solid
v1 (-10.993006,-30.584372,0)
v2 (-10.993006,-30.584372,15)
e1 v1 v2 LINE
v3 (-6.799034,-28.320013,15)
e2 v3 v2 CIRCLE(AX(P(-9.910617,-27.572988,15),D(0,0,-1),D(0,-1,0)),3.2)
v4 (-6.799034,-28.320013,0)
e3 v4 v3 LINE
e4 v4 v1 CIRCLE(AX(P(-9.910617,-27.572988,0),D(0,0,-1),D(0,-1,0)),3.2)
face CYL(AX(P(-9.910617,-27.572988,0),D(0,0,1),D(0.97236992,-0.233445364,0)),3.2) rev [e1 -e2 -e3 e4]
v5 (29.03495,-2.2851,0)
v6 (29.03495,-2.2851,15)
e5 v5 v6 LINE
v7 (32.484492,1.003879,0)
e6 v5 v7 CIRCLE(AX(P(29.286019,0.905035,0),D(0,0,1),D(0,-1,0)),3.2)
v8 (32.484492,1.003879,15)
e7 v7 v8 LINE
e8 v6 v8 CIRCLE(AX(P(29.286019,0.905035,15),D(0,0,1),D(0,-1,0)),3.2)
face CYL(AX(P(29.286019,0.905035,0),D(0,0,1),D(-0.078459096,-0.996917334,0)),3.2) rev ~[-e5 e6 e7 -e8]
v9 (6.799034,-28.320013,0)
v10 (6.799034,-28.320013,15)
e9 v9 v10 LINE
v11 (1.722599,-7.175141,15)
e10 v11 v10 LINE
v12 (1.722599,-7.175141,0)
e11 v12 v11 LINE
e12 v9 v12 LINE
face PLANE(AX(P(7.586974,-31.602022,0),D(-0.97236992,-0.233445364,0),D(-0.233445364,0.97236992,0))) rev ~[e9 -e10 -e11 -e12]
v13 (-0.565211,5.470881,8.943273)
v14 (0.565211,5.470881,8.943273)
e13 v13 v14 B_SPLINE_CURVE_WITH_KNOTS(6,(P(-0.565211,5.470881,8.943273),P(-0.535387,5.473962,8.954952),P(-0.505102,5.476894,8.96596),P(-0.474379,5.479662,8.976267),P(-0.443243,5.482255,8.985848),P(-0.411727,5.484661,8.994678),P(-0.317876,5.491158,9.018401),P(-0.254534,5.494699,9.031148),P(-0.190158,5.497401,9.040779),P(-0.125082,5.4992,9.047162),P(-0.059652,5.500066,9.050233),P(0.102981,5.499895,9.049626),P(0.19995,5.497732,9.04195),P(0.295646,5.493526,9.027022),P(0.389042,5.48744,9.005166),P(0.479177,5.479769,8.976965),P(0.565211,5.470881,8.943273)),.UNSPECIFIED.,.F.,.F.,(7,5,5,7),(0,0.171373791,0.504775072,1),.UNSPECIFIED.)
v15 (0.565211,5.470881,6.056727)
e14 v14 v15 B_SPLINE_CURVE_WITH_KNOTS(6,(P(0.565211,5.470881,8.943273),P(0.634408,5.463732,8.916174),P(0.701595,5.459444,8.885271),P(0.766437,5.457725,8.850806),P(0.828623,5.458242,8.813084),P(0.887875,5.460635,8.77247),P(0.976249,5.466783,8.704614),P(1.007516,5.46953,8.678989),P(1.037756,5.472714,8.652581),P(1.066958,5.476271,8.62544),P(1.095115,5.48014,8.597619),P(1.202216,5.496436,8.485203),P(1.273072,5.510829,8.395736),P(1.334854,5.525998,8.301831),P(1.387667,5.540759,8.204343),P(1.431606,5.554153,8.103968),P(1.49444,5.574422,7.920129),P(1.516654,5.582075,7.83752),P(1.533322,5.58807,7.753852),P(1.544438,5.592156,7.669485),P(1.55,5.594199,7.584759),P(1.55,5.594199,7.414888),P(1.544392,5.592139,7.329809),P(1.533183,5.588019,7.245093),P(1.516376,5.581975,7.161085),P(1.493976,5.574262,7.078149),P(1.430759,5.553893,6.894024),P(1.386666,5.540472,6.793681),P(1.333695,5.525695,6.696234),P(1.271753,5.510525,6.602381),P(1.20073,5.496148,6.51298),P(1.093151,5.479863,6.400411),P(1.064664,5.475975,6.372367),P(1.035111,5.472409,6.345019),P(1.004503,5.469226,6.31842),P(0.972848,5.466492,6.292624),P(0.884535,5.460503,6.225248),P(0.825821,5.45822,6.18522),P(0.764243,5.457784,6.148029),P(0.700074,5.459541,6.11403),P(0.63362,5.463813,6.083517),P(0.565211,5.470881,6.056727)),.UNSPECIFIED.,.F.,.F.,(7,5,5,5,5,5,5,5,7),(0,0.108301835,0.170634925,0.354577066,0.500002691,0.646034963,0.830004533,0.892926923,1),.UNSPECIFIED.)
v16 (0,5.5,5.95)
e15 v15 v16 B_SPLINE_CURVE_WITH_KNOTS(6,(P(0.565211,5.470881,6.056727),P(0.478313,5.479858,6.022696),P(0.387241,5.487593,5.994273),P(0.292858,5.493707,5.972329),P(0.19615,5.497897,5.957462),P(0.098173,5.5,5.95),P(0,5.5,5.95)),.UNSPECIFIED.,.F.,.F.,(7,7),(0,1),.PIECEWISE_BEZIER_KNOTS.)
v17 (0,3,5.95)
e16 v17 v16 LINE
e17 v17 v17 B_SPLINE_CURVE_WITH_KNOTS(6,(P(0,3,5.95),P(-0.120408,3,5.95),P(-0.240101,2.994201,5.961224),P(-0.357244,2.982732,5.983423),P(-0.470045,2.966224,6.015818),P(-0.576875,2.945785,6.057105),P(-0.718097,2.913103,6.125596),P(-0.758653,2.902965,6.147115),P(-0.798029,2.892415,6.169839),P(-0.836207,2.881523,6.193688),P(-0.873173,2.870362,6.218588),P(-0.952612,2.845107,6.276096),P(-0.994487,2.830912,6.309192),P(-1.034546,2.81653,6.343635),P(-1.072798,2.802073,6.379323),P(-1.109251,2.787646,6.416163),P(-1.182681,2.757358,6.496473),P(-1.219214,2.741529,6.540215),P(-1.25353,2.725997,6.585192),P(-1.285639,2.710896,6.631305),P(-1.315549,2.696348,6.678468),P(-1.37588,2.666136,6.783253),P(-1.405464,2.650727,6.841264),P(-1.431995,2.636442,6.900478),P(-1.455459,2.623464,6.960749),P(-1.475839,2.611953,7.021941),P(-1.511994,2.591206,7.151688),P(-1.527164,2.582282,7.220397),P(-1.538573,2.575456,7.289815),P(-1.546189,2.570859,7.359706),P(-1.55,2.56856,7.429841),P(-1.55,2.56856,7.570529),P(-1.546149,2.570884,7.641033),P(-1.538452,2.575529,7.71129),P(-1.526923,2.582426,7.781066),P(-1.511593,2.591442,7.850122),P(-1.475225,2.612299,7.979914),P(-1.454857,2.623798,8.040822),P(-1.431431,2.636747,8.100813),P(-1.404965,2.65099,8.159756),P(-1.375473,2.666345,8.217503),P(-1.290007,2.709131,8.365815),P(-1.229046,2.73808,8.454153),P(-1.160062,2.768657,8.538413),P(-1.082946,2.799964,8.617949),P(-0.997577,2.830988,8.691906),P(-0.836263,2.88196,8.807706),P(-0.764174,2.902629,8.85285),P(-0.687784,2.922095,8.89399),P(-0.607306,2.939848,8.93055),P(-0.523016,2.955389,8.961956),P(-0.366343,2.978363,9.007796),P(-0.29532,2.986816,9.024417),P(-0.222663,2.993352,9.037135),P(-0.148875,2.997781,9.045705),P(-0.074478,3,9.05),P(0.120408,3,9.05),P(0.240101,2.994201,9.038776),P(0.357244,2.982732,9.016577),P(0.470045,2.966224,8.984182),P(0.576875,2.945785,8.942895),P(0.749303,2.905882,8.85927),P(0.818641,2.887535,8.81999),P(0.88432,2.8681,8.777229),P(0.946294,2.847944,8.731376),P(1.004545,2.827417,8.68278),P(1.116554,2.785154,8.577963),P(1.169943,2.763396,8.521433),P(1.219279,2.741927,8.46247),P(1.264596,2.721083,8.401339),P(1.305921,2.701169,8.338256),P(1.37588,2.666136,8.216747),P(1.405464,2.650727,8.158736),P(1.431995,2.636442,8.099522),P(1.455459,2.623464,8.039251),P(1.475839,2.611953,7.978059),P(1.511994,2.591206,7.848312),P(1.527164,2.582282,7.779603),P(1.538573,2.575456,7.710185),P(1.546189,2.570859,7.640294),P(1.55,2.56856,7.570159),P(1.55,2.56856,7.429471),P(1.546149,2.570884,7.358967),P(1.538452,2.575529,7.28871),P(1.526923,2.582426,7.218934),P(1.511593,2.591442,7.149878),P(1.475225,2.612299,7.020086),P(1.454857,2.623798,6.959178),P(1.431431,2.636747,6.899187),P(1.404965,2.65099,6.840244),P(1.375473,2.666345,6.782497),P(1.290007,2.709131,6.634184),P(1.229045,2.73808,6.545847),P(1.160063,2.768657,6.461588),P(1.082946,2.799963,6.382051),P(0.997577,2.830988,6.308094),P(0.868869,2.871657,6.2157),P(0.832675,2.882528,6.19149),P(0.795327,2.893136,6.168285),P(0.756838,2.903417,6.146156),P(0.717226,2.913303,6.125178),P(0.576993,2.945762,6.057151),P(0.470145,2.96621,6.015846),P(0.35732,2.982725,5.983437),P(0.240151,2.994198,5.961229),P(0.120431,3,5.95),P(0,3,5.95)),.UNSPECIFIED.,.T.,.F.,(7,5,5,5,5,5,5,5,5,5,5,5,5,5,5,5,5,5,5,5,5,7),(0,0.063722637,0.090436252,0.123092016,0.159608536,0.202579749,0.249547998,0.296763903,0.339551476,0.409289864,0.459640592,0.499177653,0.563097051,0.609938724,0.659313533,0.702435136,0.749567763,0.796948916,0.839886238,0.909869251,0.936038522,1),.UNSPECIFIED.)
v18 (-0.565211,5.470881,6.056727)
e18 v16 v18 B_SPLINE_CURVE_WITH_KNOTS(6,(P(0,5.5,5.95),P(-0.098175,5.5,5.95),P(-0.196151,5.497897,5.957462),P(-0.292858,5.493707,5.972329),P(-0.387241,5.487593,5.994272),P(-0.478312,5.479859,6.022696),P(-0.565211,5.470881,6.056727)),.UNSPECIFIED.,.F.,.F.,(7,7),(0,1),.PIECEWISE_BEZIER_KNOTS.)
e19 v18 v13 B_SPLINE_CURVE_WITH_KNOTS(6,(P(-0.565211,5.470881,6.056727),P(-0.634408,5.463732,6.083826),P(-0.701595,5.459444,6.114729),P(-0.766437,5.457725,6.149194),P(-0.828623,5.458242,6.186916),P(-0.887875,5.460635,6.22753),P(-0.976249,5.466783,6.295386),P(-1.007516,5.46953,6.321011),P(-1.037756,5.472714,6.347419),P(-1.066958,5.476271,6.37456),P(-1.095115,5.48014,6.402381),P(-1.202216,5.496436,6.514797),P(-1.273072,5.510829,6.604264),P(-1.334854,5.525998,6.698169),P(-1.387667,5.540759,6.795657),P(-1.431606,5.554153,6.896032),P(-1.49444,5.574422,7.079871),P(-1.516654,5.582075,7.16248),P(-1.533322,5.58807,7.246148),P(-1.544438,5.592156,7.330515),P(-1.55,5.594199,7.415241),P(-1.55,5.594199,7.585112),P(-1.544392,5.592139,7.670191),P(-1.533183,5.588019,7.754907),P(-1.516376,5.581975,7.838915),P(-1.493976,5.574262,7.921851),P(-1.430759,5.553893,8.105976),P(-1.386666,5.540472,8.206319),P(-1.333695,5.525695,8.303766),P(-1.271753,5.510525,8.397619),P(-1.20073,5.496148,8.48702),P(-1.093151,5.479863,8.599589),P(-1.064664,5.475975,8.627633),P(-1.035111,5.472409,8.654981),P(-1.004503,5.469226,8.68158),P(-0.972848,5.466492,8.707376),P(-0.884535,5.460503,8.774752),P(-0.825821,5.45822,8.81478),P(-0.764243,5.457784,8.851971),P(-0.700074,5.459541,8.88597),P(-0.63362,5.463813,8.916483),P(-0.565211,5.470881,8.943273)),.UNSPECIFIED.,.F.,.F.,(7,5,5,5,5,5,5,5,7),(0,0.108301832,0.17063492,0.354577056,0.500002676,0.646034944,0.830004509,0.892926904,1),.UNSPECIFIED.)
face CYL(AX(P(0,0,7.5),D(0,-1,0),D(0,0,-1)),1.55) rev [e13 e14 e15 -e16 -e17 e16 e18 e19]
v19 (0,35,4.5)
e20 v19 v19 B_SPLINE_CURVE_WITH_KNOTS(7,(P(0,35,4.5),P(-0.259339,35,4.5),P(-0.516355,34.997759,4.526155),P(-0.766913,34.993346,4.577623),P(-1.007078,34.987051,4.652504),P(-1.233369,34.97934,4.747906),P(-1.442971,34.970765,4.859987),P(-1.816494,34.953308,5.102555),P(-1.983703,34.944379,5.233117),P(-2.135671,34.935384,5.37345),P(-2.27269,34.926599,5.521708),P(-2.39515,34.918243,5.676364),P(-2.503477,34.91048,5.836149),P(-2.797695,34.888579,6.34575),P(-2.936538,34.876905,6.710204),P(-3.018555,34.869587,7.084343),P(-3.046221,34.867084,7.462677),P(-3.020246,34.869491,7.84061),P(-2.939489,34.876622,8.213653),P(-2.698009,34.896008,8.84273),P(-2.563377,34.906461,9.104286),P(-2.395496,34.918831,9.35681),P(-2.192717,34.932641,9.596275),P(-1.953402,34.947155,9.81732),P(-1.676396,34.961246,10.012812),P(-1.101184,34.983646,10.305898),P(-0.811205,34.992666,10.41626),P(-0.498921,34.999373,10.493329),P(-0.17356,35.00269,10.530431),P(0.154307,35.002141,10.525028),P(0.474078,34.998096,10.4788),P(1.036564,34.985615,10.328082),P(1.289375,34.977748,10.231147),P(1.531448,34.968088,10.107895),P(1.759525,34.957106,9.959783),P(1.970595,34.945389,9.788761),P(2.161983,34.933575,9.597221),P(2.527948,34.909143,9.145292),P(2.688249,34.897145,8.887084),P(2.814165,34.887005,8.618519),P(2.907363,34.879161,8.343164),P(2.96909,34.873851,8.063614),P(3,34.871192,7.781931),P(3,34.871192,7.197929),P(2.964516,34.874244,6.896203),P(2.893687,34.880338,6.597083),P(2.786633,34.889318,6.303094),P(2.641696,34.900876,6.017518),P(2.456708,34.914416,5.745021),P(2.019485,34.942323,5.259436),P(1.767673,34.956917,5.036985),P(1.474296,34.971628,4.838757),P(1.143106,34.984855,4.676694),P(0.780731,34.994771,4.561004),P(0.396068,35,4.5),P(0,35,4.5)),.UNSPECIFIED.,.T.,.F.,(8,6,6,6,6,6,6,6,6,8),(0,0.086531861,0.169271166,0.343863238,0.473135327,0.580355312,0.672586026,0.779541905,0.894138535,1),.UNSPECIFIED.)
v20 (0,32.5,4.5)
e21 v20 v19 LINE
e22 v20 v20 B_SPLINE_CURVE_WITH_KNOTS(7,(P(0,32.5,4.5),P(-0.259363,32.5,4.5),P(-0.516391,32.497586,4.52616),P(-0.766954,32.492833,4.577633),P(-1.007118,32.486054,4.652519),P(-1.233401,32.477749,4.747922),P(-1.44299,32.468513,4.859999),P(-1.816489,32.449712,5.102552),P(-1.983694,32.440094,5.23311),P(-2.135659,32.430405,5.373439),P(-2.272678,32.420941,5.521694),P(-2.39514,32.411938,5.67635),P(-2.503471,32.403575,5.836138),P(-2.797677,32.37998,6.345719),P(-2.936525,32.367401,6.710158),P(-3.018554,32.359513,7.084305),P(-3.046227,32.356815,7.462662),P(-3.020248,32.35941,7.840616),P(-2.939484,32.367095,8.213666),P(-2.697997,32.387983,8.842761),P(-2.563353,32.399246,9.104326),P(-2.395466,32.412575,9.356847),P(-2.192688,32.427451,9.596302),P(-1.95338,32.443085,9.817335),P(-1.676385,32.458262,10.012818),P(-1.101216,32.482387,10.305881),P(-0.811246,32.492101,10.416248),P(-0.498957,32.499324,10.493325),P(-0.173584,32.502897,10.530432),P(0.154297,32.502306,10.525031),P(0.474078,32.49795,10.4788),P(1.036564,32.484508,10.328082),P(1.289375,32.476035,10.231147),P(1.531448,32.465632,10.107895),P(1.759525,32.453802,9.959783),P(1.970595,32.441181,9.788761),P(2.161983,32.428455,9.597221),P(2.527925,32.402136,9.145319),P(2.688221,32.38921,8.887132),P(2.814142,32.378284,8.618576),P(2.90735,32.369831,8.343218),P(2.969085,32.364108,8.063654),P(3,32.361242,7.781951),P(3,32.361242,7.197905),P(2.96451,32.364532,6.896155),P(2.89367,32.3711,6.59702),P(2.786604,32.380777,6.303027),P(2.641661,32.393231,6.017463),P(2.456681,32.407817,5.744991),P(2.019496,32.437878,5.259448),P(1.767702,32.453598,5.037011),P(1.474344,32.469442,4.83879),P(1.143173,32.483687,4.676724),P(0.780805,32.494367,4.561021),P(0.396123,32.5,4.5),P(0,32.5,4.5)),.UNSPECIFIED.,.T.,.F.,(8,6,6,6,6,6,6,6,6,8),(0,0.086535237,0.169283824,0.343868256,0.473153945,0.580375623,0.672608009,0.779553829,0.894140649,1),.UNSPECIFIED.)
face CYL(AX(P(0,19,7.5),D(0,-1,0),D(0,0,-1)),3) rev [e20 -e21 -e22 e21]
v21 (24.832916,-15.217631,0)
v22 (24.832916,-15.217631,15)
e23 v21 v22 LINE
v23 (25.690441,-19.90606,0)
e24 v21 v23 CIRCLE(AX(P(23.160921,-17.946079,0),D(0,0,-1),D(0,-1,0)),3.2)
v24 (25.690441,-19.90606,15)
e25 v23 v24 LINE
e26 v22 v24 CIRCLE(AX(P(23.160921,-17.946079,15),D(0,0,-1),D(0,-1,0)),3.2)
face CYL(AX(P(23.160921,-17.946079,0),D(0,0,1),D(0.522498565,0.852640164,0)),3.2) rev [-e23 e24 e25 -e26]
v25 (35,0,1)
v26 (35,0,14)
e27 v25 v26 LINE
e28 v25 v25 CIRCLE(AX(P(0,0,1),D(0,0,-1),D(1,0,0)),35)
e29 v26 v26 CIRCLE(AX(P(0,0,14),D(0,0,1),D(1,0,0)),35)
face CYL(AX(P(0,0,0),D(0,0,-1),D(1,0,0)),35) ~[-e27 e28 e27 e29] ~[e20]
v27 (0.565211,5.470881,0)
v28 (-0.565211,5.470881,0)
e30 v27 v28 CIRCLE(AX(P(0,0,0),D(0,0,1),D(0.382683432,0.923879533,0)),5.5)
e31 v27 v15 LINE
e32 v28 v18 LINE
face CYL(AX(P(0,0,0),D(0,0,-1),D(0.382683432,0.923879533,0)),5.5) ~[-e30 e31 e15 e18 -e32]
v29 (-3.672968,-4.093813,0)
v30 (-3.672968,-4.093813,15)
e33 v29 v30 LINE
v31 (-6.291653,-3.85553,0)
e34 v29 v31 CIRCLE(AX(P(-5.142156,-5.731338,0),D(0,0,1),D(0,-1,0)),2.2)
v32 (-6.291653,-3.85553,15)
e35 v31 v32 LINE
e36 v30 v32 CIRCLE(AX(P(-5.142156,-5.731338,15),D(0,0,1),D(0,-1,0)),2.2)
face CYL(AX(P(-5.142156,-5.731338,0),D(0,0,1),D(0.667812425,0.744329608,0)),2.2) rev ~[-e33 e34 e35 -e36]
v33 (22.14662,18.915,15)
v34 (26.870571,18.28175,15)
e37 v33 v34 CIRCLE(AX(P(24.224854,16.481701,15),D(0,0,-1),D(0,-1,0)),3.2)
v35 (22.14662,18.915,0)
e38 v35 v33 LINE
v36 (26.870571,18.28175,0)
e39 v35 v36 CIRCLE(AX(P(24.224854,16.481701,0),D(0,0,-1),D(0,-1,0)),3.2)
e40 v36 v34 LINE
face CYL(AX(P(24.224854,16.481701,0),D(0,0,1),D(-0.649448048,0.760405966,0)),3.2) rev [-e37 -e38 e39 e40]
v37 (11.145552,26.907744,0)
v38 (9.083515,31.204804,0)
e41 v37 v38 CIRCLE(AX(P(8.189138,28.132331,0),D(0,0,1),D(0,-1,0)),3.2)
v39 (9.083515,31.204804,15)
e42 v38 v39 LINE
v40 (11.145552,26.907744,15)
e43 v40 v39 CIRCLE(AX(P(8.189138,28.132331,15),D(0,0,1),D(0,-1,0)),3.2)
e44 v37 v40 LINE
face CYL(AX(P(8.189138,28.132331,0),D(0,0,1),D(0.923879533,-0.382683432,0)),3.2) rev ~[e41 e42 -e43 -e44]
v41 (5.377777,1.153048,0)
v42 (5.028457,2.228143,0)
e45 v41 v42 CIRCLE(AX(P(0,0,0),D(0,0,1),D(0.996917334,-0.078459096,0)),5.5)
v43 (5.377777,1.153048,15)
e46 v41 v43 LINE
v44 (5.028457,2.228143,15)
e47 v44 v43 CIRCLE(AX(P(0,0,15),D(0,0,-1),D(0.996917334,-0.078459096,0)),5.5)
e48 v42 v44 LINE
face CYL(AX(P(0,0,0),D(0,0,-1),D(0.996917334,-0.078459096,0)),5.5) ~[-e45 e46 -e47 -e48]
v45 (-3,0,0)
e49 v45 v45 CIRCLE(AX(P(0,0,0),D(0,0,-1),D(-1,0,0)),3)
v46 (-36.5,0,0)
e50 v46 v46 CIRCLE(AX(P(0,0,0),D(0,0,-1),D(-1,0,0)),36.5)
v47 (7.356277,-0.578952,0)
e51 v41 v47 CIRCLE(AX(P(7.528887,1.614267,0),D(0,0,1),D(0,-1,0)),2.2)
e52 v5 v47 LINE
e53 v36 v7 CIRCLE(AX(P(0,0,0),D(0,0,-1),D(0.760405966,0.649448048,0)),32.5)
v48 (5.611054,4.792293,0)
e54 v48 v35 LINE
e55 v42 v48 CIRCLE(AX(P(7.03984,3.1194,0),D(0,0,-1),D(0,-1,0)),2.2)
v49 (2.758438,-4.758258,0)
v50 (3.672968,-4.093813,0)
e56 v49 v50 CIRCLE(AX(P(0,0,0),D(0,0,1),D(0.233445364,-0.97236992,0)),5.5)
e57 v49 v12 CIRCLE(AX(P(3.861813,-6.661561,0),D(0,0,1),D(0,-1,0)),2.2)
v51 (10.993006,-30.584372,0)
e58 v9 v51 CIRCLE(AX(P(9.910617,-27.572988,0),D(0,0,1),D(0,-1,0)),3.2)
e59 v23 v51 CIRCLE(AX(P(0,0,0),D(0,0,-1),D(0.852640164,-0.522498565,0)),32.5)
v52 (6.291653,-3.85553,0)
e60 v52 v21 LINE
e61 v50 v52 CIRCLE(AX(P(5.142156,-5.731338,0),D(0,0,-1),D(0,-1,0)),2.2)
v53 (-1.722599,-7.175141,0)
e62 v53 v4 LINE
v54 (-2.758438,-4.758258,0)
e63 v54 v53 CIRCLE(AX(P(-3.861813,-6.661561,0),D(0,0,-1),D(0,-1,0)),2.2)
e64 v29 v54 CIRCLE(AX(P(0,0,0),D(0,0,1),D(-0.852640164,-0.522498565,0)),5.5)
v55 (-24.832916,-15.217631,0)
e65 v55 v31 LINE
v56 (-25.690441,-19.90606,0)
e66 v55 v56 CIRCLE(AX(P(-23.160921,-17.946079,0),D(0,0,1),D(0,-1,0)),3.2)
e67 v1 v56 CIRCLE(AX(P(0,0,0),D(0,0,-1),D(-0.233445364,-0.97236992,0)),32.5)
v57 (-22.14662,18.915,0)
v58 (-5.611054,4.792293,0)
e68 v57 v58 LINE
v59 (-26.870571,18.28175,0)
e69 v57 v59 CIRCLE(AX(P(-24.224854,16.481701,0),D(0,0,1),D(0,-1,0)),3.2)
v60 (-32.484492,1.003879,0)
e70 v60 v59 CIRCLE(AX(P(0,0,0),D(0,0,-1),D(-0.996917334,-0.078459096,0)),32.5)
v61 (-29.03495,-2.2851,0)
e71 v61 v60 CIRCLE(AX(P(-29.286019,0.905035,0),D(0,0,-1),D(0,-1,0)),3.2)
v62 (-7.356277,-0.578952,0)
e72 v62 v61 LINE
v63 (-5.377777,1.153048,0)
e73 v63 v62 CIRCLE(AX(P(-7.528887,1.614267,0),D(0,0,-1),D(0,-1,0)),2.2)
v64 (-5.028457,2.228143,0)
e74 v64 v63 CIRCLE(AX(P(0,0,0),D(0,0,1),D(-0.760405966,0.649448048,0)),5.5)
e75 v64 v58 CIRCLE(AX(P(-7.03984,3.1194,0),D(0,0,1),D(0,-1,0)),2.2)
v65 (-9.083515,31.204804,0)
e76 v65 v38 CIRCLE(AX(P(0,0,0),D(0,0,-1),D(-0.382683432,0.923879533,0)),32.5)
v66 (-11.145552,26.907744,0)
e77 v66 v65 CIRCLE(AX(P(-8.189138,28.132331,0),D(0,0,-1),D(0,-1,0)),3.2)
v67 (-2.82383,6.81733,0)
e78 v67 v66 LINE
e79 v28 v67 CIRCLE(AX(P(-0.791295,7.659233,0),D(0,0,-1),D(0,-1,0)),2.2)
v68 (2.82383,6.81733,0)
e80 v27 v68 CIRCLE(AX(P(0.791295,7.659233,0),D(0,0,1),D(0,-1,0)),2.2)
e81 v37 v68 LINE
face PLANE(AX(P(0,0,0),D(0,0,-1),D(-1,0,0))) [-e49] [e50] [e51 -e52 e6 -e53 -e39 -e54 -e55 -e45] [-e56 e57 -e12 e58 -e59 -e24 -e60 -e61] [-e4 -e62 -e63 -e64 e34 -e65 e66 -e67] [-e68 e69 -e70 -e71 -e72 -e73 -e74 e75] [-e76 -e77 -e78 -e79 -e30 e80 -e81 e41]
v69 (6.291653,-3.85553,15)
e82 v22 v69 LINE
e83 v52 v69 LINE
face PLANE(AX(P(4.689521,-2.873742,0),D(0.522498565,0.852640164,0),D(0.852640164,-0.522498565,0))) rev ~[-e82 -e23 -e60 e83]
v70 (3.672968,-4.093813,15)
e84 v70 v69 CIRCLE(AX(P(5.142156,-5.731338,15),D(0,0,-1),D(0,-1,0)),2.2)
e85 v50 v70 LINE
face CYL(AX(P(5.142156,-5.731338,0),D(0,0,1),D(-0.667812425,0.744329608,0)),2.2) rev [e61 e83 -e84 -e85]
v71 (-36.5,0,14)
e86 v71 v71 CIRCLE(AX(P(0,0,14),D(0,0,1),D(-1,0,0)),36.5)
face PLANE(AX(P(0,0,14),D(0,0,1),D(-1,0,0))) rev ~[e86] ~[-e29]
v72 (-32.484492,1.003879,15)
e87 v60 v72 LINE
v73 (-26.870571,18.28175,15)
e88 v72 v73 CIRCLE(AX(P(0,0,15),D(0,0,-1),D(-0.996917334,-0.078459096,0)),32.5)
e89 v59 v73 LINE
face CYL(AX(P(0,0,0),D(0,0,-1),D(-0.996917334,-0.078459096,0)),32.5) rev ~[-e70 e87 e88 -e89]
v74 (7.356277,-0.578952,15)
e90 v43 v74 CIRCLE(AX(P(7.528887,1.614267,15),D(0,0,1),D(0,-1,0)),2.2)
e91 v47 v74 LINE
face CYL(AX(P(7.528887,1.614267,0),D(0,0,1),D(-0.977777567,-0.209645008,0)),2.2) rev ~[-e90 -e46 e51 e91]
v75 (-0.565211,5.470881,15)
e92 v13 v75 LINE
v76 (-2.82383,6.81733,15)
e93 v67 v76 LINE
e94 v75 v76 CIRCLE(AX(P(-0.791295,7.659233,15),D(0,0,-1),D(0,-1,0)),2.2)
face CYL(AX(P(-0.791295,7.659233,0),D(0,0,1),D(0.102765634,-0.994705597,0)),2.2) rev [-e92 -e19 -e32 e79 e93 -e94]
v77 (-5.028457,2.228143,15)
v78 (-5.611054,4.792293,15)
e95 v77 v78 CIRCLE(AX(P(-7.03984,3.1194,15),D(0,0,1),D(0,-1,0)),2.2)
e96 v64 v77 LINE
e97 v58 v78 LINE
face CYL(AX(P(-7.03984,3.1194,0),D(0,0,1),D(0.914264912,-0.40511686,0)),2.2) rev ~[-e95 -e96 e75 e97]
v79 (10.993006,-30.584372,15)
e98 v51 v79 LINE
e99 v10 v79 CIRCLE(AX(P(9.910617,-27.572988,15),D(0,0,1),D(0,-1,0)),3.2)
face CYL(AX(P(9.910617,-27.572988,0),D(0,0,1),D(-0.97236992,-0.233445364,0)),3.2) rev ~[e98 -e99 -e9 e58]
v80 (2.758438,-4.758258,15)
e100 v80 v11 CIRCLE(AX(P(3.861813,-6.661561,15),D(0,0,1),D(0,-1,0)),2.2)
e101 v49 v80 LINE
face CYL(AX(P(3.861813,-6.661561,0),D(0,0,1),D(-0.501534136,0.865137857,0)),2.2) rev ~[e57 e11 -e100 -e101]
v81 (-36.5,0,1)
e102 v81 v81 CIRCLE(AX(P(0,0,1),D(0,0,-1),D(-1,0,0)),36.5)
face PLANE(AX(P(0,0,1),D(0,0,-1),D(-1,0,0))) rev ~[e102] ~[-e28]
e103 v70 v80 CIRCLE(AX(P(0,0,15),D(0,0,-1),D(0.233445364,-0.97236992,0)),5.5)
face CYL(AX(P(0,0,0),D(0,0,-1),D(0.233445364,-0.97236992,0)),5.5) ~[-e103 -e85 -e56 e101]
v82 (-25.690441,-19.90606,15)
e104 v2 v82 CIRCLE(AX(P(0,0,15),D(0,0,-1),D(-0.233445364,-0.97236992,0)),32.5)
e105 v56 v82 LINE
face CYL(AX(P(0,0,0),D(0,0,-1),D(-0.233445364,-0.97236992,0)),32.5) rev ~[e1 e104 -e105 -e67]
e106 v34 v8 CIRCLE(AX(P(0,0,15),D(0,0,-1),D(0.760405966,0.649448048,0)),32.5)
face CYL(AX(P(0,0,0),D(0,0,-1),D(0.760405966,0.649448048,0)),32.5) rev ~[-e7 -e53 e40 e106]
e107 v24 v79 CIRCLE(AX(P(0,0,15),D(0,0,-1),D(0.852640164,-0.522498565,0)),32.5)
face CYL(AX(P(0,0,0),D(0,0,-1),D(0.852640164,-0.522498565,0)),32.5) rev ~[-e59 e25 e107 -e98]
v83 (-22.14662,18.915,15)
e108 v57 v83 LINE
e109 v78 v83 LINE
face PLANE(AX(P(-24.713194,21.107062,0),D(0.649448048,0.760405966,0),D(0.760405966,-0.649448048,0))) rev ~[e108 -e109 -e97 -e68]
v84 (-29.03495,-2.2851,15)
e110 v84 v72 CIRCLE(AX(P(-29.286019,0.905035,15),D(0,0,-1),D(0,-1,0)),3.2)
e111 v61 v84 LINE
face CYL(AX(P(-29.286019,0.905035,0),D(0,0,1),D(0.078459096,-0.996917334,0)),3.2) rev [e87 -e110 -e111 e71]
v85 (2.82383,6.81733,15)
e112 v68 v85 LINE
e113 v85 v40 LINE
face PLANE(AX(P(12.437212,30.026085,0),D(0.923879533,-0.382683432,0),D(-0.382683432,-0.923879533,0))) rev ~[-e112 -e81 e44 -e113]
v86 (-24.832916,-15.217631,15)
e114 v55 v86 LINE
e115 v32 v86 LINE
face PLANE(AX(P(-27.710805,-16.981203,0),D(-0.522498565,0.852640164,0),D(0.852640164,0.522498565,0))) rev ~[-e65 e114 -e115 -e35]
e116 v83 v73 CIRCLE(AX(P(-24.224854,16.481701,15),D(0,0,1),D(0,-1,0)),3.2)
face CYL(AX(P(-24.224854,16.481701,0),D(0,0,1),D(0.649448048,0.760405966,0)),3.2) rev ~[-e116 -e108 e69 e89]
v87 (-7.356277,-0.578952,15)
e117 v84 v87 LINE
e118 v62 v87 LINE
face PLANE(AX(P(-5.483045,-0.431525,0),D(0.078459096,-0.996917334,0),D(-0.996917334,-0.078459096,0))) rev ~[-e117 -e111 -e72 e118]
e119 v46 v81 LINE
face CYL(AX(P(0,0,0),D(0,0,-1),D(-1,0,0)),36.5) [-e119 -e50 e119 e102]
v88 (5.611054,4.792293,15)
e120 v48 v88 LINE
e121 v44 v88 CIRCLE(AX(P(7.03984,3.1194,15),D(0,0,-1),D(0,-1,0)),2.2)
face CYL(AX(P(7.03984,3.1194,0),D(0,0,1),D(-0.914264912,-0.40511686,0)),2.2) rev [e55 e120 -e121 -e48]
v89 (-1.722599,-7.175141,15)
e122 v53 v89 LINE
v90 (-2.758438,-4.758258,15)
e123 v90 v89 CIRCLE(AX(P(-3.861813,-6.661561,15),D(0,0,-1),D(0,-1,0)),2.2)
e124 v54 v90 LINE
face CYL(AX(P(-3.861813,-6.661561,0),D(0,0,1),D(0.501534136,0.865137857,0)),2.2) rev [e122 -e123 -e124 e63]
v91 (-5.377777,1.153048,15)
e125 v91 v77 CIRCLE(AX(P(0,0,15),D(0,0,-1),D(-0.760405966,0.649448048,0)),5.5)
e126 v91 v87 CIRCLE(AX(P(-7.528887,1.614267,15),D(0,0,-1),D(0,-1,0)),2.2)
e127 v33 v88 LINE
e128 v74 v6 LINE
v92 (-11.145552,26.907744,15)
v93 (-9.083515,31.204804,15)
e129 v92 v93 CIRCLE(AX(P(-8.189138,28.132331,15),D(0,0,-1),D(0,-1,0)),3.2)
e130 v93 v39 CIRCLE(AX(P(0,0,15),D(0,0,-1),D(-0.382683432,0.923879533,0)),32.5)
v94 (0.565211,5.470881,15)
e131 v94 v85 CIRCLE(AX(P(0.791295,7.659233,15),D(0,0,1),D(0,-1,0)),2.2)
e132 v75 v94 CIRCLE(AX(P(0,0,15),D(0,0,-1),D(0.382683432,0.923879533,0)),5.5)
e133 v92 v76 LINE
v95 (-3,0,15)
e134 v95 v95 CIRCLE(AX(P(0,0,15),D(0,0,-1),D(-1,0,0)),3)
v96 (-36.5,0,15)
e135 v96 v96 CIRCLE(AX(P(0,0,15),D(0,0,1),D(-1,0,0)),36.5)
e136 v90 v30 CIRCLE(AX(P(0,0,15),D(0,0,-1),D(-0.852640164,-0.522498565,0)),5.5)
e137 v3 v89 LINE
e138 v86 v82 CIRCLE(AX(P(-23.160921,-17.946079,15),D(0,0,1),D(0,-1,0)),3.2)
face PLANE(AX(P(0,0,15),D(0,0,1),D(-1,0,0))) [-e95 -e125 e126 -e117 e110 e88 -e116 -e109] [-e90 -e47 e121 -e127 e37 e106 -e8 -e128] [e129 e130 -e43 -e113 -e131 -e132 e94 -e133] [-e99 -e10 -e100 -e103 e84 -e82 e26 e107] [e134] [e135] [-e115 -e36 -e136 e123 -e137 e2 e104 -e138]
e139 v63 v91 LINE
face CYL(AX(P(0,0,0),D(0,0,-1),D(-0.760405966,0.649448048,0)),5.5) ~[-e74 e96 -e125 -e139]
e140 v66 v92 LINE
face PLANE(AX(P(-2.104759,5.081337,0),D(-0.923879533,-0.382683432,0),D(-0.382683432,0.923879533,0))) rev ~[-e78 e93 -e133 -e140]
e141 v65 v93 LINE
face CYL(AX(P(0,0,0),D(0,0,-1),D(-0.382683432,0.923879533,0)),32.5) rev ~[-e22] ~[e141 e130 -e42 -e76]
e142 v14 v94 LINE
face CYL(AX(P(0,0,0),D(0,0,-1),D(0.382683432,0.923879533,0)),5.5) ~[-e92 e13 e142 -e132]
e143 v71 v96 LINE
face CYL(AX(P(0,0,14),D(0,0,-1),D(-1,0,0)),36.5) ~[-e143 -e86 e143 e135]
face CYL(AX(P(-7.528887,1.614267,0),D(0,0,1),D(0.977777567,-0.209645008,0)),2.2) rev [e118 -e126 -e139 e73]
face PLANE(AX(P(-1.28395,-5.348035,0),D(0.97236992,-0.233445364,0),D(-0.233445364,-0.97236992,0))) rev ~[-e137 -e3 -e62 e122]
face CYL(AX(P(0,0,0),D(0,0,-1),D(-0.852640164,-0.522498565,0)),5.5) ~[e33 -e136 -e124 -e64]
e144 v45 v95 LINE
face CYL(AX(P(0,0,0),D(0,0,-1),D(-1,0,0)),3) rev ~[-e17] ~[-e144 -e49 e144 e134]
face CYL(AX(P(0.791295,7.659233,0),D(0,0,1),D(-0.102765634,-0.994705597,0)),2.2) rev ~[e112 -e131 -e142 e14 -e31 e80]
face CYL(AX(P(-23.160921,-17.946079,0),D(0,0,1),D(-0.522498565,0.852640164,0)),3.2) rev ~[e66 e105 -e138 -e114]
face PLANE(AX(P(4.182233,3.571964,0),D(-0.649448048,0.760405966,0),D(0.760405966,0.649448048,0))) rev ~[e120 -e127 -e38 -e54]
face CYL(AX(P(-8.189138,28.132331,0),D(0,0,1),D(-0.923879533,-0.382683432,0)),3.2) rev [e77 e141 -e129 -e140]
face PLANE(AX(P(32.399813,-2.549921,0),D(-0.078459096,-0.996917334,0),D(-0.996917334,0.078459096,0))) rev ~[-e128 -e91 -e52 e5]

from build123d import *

# Parameters (mm, degrees)
SKETCH1_R               = 35
BOSS_EXTRUDE1_DEPTH     = 15
SKETCH2_R               = 3
CUT_EXTRUDE1_DEPTH      = 52.720402164
CUT_EXTRUDE3_DEPTH      = 52.720402164
CIRPATTERN1_COUNT       = 5
FILLET4_R               = 2.2
FILLET5_R               = 3.2
SKETCH5_R               = 36.5
SKETCH5_R_2             = 35
BOSS_EXTRUDE2_DEPTH     = 1
BOSS_EXTRUDE3_START     = -1
SKETCH6_R               = 36.5
SKETCH6_R_2             = 35
BOSS_EXTRUDE3_DEPTH     = 1
SKETCH7_R               = 1.55
CUT_EXTRUDE4_DEPTH      = 54.754069613
CUT_EXTRUDE5_DEPTH      = 54.754069641
CUT_EXTRUDE5_DEPTH_BACK = 1
CUT_EXTRUDE5_START      = 20
SKETCH8_R               = 3


with BuildPart() as part:
    # Sketch1 → Boss-Extrude1 (new body)
    with BuildSketch(Plane.XY):
        Circle(SKETCH1_R)
    extrude(amount=BOSS_EXTRUDE1_DEPTH)

    # Sketch2 → Cut-Extrude1 (cut, through all)
    with BuildSketch(Plane(origin=(0, 0, 0), x_dir=(-1, 0, 0), z_dir=(0, 0, -1))):
        Circle(SKETCH2_R)
    extrude(amount=-CUT_EXTRUDE1_DEPTH, mode=Mode.SUBTRACT)

    # Sketch4 → Cut-Extrude3 (cut, through all)
    with BuildSketch(Plane(origin=(0, 0, 0), x_dir=(-1, 0, 0), z_dir=(0, 0, -1))):
        with BuildLine():
            Line((2.104758878, 5.081337429), (12.437211552, 30.026084807))
            ThreePointArc((12.437211552, 30.026084807), (0, 32.5), (-12.437211552, 30.026084807))
            Line((-12.437211552, 30.026084807), (-2.104758878, 5.081337429))
            ThreePointArc((-2.104758878, 5.081337429), (0, 5.5), (2.104758878, 5.081337429))
        make_face()
    cut_extrude3 = extrude(amount=-CUT_EXTRUDE3_DEPTH, mode=Mode.SUBTRACT)

    # CirPattern1: Cut-Extrude3 ×5 about axis
    cirpattern1_axis = Axis((0, 0, 0), (0, 0, 1))
    for i in range(1, CIRPATTERN1_COUNT):
        add(cut_extrude3.rotate(cirpattern1_axis, i * 360 / CIRPATTERN1_COUNT), mode=Mode.SUBTRACT)

    # Fillet4
    fillet4_edges = [part.edges().sort_by_distance(p)[0] for p in [
        (-2.104758878, 5.081337429, 7.5),
        (2.104758878, 5.081337429, 7.5),
        (-5.483045336, -0.431525027, 7.5),
        (-4.182232811, 3.571964266, 7.5),
        (-1.283949501, -5.348034562, 7.5),
        (-4.689520904, -2.873742106, 7.5),
        (4.689520904, -2.873742106, 7.5),
        (1.283949501, -5.348034562, 7.5),
        (4.182232811, 3.571964266, 7.5),
        (5.483045336, -0.431525027, 7.5),
    ]]
    fillet(fillet4_edges, radius=FILLET4_R)

    # Fillet5
    fillet5_edges = [part.edges().sort_by_distance(p)[0] for p in [
        (12.437211552, 30.026084807, 7.5),
        (-12.437211552, 30.026084807, 7.5),
        (-24.713193882, 21.107061571, 7.5),
        (-32.399813346, -2.549920611, 7.5),
        (-27.710805342, -16.981203353, 7.5),
        (-7.586974325, -31.602022413, 7.5),
        (7.586974325, -31.602022413, 7.5),
        (27.710805342, -16.981203353, 7.5),
        (32.399813346, -2.549920611, 7.5),
        (24.713193882, 21.107061571, 7.5),
    ]]
    fillet(fillet5_edges, radius=FILLET5_R)

    # Sketch5 → Boss-Extrude2 (add)
    with BuildSketch(Plane(origin=(0, 0, 0), x_dir=(-1, 0, 0), z_dir=(0, 0, -1))):
        Circle(SKETCH5_R)
        Circle(SKETCH5_R_2, mode=Mode.SUBTRACT)
    extrude(amount=-BOSS_EXTRUDE2_DEPTH)

    # Sketch6 → Boss-Extrude3 (add)
    with BuildSketch(Plane.XY.offset(15).offset(BOSS_EXTRUDE3_START)):
        with Locations(Location((0, 0, 0), (0, 0, 180))):
            Circle(SKETCH6_R)
        with Locations(Location((0, 0, 0), (0, 0, 180))):
            Circle(SKETCH6_R_2, mode=Mode.SUBTRACT)
    extrude(amount=BOSS_EXTRUDE3_DEPTH)

    # Sketch7 → Cut-Extrude4 (cut, through all)
    with BuildSketch(Plane(origin=(0, 0, 0), x_dir=(1, 0, 0), z_dir=(0, 1, 0))):
        with Locations(Location((0, -7.5, 0), (0, 0, 90))):
            Circle(SKETCH7_R)
    extrude(amount=CUT_EXTRUDE4_DEPTH, mode=Mode.SUBTRACT)

    # Sketch8 → Cut-Extrude5 (cut, two sides: drawn at the far end of the back side and taken through both)
    with BuildSketch(Plane(origin=(0, 0, 0), x_dir=(1, 0, 0), z_dir=(0, 1, 0)).offset(CUT_EXTRUDE5_START - CUT_EXTRUDE5_DEPTH_BACK)):
        with Locations(Location((0, -7.5, 0), (0, 0, 90))):
            Circle(SKETCH8_R)
    extrude(amount=CUT_EXTRUDE5_DEPTH + CUT_EXTRUDE5_DEPTH_BACK, mode=Mode.SUBTRACT)


solid = part.part
